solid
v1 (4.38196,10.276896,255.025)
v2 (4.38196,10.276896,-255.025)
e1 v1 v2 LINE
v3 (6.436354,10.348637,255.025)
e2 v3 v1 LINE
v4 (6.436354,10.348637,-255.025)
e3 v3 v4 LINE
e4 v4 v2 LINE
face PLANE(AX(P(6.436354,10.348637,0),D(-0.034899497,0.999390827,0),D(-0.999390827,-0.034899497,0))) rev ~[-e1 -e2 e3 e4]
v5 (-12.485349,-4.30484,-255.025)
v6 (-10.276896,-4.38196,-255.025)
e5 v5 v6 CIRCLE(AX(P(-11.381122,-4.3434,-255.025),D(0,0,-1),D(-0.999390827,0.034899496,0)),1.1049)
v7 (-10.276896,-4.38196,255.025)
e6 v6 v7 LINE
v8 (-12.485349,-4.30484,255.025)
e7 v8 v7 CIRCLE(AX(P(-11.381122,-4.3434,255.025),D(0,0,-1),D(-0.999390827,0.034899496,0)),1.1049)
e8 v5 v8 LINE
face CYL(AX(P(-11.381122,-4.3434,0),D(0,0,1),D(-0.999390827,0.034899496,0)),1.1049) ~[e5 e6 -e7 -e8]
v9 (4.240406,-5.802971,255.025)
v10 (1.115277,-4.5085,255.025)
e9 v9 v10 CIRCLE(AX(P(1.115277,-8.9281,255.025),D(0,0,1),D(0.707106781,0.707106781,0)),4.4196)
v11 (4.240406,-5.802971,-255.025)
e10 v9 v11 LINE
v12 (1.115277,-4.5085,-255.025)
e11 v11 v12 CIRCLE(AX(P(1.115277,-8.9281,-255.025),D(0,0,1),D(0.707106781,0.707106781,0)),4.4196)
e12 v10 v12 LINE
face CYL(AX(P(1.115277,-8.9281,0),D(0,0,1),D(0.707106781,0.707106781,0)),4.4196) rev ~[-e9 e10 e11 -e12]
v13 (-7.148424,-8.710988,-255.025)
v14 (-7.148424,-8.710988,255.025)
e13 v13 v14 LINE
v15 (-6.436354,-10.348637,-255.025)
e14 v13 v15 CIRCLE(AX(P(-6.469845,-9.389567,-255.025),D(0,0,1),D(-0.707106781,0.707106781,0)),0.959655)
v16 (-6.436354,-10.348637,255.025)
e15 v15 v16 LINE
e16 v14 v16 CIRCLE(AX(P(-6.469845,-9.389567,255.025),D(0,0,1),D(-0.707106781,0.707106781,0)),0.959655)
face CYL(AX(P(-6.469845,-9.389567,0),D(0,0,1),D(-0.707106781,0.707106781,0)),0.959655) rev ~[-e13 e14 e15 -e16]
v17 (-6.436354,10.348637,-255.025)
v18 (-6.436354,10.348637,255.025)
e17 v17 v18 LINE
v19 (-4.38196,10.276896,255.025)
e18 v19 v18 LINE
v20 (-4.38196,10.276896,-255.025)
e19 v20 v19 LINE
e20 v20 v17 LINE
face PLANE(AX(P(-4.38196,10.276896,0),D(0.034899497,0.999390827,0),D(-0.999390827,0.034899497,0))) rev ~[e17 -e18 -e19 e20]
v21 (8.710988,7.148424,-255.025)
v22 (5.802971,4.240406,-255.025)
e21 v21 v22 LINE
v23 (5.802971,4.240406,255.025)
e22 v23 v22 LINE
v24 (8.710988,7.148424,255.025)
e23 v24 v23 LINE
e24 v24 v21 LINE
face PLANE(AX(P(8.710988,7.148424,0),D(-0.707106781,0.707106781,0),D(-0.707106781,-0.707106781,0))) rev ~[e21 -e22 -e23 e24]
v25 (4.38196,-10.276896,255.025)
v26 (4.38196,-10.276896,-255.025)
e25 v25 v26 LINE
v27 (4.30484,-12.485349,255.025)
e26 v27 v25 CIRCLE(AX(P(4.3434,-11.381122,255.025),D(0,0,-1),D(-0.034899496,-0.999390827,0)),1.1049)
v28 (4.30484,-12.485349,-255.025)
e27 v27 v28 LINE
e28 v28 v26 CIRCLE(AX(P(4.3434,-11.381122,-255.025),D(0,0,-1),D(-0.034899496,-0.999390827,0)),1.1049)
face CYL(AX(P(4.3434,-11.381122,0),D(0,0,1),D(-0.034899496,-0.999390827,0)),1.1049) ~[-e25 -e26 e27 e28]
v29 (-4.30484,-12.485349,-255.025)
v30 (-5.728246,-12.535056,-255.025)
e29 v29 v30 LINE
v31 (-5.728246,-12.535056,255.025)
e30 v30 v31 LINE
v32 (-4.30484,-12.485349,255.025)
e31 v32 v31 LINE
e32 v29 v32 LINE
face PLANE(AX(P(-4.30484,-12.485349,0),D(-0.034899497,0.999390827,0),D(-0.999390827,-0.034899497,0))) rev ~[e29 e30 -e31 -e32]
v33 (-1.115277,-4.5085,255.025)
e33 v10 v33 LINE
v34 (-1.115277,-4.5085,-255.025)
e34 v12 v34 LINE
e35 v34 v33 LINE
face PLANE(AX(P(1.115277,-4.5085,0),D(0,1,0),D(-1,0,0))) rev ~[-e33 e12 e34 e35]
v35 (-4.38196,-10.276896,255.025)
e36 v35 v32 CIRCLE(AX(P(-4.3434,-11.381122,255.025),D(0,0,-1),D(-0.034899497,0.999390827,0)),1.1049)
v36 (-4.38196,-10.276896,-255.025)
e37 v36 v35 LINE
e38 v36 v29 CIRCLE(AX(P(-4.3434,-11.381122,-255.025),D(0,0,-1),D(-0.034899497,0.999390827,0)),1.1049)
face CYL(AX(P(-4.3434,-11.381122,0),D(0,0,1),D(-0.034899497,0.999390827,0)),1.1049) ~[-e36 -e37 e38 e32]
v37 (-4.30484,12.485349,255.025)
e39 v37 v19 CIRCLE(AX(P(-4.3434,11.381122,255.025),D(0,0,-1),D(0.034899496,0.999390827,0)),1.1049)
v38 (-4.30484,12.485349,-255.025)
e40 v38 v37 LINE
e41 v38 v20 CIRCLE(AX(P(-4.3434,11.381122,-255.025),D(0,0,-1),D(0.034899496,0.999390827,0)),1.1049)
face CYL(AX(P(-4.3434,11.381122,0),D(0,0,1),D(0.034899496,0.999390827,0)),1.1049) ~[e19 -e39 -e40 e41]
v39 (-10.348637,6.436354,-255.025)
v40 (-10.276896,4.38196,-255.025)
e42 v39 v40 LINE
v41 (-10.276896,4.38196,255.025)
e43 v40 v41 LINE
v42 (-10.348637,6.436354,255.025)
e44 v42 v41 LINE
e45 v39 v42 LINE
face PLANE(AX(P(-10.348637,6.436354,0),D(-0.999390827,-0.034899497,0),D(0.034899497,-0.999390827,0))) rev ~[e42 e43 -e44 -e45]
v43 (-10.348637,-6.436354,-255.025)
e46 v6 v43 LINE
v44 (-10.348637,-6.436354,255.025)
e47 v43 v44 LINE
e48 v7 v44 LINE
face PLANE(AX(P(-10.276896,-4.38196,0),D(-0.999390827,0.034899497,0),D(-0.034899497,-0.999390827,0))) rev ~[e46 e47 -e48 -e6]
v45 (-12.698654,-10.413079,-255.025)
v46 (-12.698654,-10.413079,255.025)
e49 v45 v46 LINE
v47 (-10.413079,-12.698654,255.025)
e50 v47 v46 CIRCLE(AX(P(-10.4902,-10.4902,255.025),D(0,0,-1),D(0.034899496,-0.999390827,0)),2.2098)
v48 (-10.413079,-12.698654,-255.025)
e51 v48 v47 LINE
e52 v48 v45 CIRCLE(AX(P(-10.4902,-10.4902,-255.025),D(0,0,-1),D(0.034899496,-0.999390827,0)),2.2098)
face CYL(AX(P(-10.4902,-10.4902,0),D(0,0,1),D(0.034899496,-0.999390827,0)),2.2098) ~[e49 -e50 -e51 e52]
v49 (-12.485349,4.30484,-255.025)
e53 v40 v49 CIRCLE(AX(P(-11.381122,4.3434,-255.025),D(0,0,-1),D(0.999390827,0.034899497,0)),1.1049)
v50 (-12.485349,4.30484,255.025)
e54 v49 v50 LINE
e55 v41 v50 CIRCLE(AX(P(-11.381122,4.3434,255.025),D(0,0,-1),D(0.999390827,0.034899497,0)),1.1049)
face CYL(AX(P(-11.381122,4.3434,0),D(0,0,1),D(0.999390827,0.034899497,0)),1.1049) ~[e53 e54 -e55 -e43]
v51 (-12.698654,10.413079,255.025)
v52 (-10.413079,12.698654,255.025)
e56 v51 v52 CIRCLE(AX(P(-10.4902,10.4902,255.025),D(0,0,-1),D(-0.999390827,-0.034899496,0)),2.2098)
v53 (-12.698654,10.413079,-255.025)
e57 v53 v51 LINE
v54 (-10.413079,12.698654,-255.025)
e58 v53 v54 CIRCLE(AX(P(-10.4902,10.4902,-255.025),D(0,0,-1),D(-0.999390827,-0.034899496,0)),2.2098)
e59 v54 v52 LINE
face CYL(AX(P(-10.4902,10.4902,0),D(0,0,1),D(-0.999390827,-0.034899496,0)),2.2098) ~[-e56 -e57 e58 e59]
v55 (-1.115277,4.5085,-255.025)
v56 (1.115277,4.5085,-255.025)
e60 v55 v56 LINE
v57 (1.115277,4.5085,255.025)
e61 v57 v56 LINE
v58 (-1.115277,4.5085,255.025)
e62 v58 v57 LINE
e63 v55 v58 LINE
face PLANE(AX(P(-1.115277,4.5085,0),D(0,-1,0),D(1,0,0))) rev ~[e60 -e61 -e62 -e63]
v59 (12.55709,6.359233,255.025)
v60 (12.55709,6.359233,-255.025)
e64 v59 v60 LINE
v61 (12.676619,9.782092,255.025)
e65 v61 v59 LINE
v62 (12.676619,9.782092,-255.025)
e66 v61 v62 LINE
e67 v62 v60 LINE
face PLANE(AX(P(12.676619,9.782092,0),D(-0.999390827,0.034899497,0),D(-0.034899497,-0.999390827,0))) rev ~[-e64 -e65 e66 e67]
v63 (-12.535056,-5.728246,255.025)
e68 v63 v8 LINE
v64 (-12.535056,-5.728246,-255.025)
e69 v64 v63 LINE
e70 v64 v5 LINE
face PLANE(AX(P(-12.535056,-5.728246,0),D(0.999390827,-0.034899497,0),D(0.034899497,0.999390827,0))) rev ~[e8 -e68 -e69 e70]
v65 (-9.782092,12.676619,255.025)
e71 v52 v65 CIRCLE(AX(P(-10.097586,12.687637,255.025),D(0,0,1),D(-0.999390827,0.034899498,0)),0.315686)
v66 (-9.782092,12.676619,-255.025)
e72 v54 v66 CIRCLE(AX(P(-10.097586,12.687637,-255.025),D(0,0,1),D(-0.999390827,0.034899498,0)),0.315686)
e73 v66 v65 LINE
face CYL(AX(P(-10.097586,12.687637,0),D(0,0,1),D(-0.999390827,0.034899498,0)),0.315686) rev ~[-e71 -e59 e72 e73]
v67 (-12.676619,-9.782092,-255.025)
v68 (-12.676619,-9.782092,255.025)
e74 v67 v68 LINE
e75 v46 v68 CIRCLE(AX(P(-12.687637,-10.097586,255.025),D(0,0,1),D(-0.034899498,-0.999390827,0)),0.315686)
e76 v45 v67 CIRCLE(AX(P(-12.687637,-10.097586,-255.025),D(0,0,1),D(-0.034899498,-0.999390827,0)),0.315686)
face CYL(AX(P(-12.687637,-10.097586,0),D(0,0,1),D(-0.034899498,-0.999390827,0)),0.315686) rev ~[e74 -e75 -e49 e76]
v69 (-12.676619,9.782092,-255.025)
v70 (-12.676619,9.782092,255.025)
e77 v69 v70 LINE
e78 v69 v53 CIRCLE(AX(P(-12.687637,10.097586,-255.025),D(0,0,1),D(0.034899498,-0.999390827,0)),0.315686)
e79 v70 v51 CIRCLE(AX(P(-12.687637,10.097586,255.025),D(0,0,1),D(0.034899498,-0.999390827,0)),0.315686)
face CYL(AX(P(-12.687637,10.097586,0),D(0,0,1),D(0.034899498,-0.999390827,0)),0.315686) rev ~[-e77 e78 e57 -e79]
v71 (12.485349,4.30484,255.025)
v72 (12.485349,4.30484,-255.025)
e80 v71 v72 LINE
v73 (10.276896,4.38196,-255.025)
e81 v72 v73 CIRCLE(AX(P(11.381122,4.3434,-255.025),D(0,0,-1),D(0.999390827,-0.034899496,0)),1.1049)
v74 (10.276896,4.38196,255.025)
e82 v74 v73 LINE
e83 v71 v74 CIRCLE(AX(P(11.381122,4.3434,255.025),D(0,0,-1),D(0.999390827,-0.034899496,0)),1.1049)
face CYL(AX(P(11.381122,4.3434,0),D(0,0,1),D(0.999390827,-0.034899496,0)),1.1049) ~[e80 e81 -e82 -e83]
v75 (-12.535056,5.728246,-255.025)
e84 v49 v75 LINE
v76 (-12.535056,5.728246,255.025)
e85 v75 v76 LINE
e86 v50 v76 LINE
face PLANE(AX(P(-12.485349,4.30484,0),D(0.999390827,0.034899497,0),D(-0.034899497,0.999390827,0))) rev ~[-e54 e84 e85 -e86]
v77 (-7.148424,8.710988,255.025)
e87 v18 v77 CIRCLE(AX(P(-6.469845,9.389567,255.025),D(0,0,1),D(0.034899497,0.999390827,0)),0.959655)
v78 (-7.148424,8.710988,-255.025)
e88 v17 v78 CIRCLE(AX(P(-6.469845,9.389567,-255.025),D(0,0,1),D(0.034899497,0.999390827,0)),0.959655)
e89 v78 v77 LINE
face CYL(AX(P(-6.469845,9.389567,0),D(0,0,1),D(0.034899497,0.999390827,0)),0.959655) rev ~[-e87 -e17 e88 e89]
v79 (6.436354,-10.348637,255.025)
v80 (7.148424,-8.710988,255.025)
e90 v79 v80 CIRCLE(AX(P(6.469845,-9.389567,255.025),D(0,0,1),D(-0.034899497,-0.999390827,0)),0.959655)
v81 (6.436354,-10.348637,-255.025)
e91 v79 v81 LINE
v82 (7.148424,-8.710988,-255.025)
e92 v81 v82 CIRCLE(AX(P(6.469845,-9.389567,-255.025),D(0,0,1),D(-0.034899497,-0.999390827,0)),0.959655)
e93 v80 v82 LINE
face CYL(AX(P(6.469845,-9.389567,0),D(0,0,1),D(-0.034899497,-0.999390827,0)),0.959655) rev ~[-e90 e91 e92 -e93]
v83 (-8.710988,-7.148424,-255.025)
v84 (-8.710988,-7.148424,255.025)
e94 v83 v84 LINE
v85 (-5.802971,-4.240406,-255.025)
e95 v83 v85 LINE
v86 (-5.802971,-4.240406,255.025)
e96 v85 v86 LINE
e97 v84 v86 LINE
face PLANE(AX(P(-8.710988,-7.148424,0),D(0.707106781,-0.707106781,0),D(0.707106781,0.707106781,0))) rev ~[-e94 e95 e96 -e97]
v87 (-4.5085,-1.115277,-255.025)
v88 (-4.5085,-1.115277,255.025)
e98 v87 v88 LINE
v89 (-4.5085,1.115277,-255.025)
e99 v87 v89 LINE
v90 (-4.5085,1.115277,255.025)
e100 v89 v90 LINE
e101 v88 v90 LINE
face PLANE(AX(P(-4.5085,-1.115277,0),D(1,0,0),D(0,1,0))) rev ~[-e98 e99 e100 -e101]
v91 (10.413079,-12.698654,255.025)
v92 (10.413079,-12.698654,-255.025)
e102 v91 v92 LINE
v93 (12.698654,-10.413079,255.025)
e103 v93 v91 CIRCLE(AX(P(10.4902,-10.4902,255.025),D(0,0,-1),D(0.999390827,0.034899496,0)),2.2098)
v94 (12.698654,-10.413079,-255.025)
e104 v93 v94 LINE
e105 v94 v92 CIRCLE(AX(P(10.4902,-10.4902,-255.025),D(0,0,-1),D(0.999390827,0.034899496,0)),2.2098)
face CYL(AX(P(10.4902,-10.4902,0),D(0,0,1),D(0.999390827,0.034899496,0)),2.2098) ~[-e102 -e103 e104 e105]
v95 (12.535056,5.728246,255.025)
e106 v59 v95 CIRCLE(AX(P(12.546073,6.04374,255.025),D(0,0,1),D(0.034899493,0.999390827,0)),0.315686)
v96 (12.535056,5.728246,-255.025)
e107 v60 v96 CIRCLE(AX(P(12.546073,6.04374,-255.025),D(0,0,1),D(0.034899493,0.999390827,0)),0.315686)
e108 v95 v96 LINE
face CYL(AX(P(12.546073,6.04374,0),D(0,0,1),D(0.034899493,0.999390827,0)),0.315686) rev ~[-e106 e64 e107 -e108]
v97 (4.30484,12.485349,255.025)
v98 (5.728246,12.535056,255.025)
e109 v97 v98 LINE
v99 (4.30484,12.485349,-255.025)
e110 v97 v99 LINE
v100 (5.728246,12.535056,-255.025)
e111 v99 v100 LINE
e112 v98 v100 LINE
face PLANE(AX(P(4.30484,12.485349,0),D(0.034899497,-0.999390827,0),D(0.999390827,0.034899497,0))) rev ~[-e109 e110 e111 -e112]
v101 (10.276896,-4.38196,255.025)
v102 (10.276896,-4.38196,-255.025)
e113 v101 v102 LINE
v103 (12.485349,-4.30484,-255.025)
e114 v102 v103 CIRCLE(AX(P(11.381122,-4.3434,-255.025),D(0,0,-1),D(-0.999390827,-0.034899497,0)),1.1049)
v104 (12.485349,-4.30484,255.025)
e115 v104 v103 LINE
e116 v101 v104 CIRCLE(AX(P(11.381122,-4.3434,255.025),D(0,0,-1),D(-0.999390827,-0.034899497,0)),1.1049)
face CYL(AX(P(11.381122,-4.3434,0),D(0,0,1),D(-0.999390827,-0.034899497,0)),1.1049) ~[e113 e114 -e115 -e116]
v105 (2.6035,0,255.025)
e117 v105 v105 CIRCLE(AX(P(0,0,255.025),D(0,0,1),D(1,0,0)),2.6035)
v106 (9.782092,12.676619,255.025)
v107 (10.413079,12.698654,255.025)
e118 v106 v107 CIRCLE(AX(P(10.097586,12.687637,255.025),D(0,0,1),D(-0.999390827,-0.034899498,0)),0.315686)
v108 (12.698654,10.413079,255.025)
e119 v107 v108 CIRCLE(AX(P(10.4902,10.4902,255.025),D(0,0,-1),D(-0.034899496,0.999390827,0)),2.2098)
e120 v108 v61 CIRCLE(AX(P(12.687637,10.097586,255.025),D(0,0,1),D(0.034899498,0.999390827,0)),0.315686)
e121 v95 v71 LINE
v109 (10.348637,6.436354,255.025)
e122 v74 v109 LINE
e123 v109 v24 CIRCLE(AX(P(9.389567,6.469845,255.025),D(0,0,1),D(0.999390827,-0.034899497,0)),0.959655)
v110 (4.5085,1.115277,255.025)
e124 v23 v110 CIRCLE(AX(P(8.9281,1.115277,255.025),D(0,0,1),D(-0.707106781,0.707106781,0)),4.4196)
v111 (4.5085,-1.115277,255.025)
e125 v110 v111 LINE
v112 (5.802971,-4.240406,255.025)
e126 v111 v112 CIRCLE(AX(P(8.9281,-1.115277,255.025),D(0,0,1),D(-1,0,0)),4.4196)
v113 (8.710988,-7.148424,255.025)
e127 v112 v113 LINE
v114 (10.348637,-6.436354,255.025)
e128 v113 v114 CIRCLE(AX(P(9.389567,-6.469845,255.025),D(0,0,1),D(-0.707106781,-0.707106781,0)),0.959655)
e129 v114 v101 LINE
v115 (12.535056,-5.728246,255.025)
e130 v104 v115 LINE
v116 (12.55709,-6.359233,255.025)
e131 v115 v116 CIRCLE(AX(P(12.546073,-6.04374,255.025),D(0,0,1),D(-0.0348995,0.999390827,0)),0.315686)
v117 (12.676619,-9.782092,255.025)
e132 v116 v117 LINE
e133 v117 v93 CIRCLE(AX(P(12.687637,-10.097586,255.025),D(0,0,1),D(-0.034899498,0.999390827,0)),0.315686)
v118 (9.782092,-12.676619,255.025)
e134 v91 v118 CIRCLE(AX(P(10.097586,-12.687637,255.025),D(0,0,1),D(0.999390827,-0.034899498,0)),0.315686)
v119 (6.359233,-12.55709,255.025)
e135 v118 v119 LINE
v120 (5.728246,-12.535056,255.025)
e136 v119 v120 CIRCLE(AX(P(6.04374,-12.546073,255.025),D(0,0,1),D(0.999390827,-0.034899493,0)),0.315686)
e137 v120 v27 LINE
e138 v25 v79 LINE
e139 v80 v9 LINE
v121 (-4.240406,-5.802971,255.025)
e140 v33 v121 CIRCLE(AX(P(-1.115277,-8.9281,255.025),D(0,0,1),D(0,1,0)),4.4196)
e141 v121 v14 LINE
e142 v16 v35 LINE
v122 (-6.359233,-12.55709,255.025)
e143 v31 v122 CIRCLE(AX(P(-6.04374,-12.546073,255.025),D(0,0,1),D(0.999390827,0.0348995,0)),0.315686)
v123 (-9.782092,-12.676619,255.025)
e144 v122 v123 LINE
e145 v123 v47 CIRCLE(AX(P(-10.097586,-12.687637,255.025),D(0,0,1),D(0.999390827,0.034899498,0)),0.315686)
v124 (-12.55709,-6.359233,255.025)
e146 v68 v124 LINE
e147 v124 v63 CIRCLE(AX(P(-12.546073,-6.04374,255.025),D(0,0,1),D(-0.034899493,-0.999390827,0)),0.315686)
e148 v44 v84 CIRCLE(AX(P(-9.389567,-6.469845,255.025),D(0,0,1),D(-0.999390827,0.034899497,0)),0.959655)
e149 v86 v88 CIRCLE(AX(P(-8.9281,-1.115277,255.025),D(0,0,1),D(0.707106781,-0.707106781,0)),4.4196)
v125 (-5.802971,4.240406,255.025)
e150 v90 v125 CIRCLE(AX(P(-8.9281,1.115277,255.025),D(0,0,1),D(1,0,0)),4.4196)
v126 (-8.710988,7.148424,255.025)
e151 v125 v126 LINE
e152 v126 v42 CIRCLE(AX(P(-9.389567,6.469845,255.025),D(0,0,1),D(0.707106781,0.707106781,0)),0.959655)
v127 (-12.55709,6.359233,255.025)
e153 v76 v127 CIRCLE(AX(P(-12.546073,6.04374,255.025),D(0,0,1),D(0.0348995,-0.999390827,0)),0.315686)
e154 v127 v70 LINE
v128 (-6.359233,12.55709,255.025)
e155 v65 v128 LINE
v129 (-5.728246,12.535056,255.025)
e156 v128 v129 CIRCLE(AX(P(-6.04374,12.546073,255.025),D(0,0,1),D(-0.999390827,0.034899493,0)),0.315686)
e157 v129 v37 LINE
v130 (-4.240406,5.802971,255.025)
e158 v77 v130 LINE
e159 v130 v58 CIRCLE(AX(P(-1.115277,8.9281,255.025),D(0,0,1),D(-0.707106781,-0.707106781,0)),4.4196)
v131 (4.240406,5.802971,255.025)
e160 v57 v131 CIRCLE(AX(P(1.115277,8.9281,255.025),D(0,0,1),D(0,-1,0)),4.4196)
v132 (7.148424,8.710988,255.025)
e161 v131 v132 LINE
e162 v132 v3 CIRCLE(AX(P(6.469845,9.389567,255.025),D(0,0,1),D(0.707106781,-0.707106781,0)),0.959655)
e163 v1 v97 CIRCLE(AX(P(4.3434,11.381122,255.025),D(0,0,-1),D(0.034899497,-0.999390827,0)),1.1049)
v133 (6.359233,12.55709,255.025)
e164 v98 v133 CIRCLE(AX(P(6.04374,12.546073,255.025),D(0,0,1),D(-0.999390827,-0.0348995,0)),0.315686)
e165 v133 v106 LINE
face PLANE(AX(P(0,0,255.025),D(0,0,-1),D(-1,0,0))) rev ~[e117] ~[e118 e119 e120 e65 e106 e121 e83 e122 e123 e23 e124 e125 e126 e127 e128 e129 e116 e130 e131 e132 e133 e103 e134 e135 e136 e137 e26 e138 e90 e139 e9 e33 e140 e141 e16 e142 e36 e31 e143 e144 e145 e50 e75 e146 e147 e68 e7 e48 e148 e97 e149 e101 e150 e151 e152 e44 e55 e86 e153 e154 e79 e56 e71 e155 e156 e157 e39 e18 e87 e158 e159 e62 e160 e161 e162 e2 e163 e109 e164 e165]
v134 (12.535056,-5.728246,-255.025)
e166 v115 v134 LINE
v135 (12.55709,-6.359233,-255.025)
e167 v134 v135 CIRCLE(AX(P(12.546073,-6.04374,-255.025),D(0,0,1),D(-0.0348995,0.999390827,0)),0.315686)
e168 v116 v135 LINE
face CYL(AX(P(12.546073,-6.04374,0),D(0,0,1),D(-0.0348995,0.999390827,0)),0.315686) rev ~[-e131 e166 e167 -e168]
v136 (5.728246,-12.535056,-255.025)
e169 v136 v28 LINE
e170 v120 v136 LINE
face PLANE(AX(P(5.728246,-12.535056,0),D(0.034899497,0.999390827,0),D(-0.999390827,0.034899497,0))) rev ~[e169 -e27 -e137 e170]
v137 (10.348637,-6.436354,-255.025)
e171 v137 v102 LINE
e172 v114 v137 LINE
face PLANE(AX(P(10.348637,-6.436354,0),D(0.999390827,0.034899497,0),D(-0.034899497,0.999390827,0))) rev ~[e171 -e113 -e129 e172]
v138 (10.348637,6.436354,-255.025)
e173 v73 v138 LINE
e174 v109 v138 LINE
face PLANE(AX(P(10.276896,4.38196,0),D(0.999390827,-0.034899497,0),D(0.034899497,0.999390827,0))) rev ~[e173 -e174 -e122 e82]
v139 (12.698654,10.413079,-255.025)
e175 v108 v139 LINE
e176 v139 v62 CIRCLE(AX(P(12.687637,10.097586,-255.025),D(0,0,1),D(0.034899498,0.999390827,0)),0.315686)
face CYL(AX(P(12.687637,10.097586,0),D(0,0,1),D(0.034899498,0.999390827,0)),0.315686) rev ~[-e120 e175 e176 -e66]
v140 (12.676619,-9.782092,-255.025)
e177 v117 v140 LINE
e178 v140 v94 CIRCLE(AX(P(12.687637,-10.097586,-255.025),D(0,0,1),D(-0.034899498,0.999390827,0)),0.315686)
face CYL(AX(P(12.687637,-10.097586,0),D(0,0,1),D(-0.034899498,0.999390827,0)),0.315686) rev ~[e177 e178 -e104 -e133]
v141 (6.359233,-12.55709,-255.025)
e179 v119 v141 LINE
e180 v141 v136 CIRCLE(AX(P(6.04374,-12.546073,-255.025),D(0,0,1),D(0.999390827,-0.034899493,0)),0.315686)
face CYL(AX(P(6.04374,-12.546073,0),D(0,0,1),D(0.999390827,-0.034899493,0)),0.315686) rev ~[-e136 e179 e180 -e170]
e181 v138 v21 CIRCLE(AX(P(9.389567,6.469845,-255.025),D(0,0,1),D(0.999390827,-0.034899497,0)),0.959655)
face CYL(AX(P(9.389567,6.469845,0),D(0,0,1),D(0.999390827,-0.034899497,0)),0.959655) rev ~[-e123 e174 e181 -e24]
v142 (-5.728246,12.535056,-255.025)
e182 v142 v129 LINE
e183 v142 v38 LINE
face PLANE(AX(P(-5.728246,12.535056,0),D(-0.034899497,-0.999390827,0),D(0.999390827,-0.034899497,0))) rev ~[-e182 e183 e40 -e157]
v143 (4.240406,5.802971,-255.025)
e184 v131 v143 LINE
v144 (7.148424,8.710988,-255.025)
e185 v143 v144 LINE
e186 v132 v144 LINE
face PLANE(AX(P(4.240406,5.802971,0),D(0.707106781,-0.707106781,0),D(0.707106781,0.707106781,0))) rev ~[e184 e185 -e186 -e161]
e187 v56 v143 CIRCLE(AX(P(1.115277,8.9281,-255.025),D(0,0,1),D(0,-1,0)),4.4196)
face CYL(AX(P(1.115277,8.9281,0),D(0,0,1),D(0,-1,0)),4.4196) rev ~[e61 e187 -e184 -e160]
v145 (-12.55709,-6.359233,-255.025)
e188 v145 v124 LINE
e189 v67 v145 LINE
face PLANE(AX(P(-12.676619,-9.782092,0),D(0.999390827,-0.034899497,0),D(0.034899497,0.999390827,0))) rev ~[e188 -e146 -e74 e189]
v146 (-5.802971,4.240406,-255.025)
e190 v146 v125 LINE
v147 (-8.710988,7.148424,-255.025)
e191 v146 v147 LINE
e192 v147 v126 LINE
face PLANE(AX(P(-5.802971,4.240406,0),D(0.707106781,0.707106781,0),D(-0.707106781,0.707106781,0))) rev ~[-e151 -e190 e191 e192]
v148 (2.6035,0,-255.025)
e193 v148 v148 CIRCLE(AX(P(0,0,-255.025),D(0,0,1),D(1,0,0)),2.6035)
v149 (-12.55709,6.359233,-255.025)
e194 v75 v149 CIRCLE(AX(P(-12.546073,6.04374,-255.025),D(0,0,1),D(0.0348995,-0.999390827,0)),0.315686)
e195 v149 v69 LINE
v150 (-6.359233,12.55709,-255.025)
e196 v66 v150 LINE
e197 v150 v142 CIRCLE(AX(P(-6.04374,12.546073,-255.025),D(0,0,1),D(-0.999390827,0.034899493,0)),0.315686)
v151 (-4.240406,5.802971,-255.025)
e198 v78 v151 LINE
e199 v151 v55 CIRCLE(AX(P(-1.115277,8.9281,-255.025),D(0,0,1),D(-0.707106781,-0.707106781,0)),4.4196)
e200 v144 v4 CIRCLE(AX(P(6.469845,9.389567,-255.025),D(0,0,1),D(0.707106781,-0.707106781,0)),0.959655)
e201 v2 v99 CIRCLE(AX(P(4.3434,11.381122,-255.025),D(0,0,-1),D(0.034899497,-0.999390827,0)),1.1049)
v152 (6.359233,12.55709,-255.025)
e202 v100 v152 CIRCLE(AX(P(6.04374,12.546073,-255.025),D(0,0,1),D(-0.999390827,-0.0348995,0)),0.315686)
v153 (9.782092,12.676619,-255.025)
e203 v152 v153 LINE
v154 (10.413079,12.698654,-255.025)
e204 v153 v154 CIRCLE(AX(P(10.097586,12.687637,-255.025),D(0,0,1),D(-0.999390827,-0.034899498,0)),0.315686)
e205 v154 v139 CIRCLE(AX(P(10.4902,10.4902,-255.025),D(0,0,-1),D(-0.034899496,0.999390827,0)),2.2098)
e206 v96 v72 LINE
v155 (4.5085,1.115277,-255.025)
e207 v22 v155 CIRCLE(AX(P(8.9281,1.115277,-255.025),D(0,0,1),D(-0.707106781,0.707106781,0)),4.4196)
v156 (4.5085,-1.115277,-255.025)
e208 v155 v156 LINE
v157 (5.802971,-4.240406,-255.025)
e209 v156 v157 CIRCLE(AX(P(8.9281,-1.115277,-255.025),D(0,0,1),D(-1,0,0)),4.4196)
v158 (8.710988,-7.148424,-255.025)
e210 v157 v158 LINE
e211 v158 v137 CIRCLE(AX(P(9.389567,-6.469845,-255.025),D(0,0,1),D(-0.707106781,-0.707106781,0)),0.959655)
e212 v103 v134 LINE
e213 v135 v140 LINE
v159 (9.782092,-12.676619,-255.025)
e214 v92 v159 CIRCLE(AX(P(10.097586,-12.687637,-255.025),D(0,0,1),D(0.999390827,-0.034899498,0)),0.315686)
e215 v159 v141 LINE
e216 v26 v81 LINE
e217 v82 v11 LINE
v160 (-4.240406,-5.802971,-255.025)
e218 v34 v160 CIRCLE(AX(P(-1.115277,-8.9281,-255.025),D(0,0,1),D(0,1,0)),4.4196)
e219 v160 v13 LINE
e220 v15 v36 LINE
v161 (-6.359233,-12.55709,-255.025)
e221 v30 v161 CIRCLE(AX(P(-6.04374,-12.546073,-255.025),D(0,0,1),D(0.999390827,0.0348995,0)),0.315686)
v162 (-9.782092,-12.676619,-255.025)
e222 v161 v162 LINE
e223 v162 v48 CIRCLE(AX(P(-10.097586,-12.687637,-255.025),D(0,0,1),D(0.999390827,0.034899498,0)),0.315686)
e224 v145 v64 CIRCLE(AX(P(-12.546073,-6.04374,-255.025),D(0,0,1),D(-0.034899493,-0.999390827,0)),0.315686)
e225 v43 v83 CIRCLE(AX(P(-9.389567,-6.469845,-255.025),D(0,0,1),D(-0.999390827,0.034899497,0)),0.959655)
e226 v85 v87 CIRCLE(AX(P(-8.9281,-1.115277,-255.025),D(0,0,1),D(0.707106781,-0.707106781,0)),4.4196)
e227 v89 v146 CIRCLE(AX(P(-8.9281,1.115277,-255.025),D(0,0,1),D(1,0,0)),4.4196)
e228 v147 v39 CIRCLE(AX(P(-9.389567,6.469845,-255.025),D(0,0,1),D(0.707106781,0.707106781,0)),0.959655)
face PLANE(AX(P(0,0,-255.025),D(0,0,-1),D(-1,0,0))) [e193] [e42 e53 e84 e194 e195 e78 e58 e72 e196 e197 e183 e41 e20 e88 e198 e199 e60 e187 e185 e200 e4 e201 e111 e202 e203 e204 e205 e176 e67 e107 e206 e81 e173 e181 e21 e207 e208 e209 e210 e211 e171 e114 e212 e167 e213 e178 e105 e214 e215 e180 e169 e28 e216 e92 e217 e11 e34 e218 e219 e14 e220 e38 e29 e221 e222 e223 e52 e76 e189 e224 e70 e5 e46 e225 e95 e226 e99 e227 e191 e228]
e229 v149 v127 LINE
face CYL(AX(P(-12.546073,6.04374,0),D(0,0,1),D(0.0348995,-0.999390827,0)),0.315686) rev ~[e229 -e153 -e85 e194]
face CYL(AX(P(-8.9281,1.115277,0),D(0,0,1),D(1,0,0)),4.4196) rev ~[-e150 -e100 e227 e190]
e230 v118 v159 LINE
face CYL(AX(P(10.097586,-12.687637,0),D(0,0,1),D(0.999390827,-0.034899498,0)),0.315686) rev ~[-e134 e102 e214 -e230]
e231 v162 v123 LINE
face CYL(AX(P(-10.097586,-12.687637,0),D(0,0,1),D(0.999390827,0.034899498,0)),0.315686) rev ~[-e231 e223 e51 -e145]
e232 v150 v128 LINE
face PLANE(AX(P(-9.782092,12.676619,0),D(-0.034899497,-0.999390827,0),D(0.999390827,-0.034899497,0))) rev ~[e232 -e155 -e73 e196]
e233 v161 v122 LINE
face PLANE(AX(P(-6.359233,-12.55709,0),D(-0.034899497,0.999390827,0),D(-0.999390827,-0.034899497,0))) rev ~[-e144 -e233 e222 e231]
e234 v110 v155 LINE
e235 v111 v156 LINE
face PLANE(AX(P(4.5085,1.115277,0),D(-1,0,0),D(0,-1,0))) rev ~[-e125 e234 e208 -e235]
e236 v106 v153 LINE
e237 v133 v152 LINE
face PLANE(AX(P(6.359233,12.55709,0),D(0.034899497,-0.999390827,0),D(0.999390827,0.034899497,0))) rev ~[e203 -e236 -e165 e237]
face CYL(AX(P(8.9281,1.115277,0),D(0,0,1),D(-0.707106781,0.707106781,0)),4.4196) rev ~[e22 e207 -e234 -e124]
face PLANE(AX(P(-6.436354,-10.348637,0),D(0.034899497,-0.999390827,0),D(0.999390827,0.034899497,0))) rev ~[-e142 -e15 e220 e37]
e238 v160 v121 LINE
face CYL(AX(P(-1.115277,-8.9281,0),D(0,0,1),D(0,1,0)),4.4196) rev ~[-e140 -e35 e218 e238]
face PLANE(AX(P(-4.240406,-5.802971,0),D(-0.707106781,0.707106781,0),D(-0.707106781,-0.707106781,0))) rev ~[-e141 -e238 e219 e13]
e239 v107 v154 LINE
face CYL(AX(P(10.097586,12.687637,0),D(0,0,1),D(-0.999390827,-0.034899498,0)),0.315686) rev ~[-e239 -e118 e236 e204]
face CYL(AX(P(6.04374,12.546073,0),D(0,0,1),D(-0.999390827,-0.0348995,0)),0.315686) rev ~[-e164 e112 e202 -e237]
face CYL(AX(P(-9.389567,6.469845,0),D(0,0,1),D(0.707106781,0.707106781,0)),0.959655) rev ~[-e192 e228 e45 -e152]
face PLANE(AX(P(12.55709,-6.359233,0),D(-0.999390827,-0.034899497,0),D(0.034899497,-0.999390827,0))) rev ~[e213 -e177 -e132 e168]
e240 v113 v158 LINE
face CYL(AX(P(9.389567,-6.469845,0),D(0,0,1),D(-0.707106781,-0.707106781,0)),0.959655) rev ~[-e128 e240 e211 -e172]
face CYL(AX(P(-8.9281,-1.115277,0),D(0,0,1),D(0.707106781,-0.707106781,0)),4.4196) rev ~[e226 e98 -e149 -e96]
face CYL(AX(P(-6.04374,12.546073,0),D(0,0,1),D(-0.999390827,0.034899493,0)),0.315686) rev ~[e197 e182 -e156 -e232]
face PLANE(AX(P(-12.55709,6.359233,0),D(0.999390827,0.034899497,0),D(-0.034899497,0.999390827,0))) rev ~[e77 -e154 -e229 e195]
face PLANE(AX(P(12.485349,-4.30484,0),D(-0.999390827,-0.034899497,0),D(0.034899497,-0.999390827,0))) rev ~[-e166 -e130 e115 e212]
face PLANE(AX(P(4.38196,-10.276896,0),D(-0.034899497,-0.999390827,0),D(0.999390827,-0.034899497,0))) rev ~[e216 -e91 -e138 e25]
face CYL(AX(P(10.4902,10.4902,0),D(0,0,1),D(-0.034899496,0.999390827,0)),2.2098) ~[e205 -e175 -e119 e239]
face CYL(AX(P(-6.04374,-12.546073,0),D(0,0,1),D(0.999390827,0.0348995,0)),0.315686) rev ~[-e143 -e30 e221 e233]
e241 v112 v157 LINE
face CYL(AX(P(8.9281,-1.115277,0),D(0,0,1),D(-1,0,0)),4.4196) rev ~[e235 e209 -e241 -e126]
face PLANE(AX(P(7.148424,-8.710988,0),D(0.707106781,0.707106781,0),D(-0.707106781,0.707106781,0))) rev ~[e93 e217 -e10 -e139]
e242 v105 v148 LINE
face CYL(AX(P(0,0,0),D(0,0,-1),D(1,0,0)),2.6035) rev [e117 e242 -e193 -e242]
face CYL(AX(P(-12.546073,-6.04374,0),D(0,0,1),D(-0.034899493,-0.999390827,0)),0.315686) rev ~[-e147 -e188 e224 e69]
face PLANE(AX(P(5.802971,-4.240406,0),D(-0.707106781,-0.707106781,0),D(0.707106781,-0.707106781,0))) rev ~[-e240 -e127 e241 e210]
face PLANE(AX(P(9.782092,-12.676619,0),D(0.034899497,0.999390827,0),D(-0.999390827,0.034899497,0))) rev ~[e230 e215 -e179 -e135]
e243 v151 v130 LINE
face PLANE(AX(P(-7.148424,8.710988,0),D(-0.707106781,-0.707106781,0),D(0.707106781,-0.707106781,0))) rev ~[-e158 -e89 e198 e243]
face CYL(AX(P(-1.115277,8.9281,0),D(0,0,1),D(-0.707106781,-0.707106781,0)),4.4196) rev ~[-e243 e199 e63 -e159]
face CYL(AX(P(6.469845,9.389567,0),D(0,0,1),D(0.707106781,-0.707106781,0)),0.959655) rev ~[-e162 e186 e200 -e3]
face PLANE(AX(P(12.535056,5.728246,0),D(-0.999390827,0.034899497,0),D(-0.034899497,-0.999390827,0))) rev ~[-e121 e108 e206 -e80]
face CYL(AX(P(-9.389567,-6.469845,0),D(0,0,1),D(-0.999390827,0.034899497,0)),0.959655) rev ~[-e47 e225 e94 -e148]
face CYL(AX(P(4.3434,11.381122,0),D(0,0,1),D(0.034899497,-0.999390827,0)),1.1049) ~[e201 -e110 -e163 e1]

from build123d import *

# Parameters (mm, degrees)
SKETCH3_R      = 2.6035
EXTRUDE1_DEPTH = 255.025


with BuildPart() as part:
    # Sketch3 → Extrude1 (new, symmetric)
    with BuildSketch(Plane.XY):
        with BuildLine():
            Line((-1.115277175, 4.5085), (1.115277175, 4.5085))
            ThreePointArc((1.115277175, 4.5085), (2.806584872, 4.844922018), (4.240406305, 5.80297087))
            Line((4.240406305, 5.80297087), (7.148423664, 8.710988229))
            ThreePointArc((7.148423664, 8.710988229), (7.349906316, 9.772227925), (6.436353897, 10.348636575))
            Line((6.436353897, 10.348636575), (4.381960454, 10.276895575))
            ThreePointArc((4.381960454, 10.276895575), (3.239173075, 11.342562046), (4.304839546, 12.485349424))
            Line((4.304839546, 12.485349424), (5.728246175, 12.535055879))
            ThreePointArc((5.728246175, 12.535055879), (6.054756855, 12.230579745), (6.35923299, 12.557090424))
            Line((6.35923299, 12.557090424), (9.782092278, 12.676619304))
            ThreePointArc((9.782092278, 12.676619304), (10.108602958, 12.37214317), (10.413079092, 12.69865385))
            ThreePointArc((10.413079092, 12.69865385), (12.052764565, 12.052764565), (12.69865385, 10.413079092))
            ThreePointArc((12.69865385, 10.413079092), (12.37214317, 10.108602958), (12.676619304, 9.782092278))
            Line((12.676619304, 9.782092278), (12.557090424, 6.35923299))
            ThreePointArc((12.557090424, 6.35923299), (12.230579745, 6.054756855), (12.535055879, 5.728246175))
            Line((12.535055879, 5.728246175), (12.485349424, 4.304839546))
            ThreePointArc((12.485349424, 4.304839546), (11.342562046, 3.239173075), (10.276895575, 4.381960454))
            Line((10.276895575, 4.381960454), (10.348636575, 6.436353897))
            ThreePointArc((10.348636575, 6.436353897), (9.772227925, 7.349906316), (8.710988229, 7.148423664))
            Line((8.710988229, 7.148423664), (5.80297087, 4.240406305))
            ThreePointArc((5.80297087, 4.240406305), (4.844922018, 2.806584872), (4.5085, 1.115277175))
            Line((4.5085, 1.115277175), (4.5085, -1.115277175))
            ThreePointArc((4.5085, -1.115277175), (4.844922018, -2.806584872), (5.80297087, -4.240406305))
            Line((5.80297087, -4.240406305), (8.710988229, -7.148423664))
            ThreePointArc((8.710988229, -7.148423664), (9.772227925, -7.349906316), (10.348636575, -6.436353897))
            Line((10.348636575, -6.436353897), (10.276895575, -4.381960454))
            ThreePointArc((10.276895575, -4.381960454), (11.342562046, -3.239173075), (12.485349424, -4.304839546))
            Line((12.485349424, -4.304839546), (12.535055879, -5.728246175))
            ThreePointArc((12.535055879, -5.728246175), (12.230579745, -6.054756855), (12.557090424, -6.35923299))
            Line((12.557090424, -6.35923299), (12.676619304, -9.782092278))
            ThreePointArc((12.676619304, -9.782092278), (12.37214317, -10.108602958), (12.69865385, -10.413079092))
            ThreePointArc((12.69865385, -10.413079092), (12.052764565, -12.052764565), (10.413079092, -12.69865385))
            ThreePointArc((10.413079092, -12.69865385), (10.108602958, -12.37214317), (9.782092278, -12.676619304))
            Line((9.782092278, -12.676619304), (6.35923299, -12.557090424))
            ThreePointArc((6.35923299, -12.557090424), (6.054756855, -12.230579745), (5.728246175, -12.535055879))
            Line((5.728246175, -12.535055879), (4.304839546, -12.485349424))
            ThreePointArc((4.304839546, -12.485349424), (3.239173075, -11.342562046), (4.381960454, -10.276895575))
            Line((4.381960454, -10.276895575), (6.436353897, -10.348636575))
            ThreePointArc((6.436353897, -10.348636575), (7.349906316, -9.772227925), (7.148423664, -8.710988229))
            Line((7.148423664, -8.710988229), (4.240406305, -5.80297087))
            ThreePointArc((4.240406305, -5.80297087), (2.806584872, -4.844922018), (1.115277175, -4.5085))
            Line((1.115277175, -4.5085), (-1.115277175, -4.5085))
            ThreePointArc((-1.115277175, -4.5085), (-2.806584872, -4.844922018), (-4.240406305, -5.80297087))
            Line((-4.240406305, -5.80297087), (-7.148423664, -8.710988229))
            ThreePointArc((-7.148423664, -8.710988229), (-7.349906316, -9.772227925), (-6.436353897, -10.348636575))
            Line((-6.436353897, -10.348636575), (-4.381960454, -10.276895575))
            ThreePointArc((-4.381960454, -10.276895575), (-3.239173075, -11.342562046), (-4.304839546, -12.485349424))
            Line((-4.304839546, -12.485349424), (-5.728246175, -12.535055879))
            ThreePointArc((-5.728246175, -12.535055879), (-6.054756855, -12.230579745), (-6.35923299, -12.557090424))
            Line((-6.35923299, -12.557090424), (-9.782092278, -12.676619304))
            ThreePointArc((-9.782092278, -12.676619304), (-10.108602958, -12.37214317), (-10.413079092, -12.69865385))
            ThreePointArc((-10.413079092, -12.69865385), (-12.052764565, -12.052764565), (-12.69865385, -10.413079092))
            ThreePointArc((-12.69865385, -10.413079092), (-12.37214317, -10.108602958), (-12.676619304, -9.782092278))
            Line((-12.676619304, -9.782092278), (-12.557090424, -6.35923299))
            ThreePointArc((-12.557090424, -6.35923299), (-12.230579745, -6.054756855), (-12.535055879, -5.728246175))
            Line((-12.535055879, -5.728246175), (-12.485349424, -4.304839546))
            ThreePointArc((-12.485349424, -4.304839546), (-11.342562046, -3.239173075), (-10.276895575, -4.381960454))
            Line((-10.276895575, -4.381960454), (-10.348636575, -6.436353897))
            ThreePointArc((-10.348636575, -6.436353897), (-9.772227925, -7.349906316), (-8.710988229, -7.148423664))
            Line((-8.710988229, -7.148423664), (-5.80297087, -4.240406305))
            ThreePointArc((-5.80297087, -4.240406305), (-4.844922018, -2.806584872), (-4.5085, -1.115277175))
            Line((-4.5085, -1.115277175), (-4.5085, 1.115277175))
            ThreePointArc((-4.5085, 1.115277175), (-4.844922018, 2.806584872), (-5.80297087, 4.240406305))
            Line((-5.80297087, 4.240406305), (-8.710988229, 7.148423664))
            ThreePointArc((-8.710988229, 7.148423664), (-9.772227925, 7.349906316), (-10.348636575, 6.436353897))
            Line((-10.348636575, 6.436353897), (-10.276895575, 4.381960454))
            ThreePointArc((-10.276895575, 4.381960454), (-11.342562046, 3.239173075), (-12.485349424, 4.304839546))
            Line((-12.485349424, 4.304839546), (-12.535055879, 5.728246175))
            ThreePointArc((-12.535055879, 5.728246175), (-12.230579745, 6.054756855), (-12.557090424, 6.35923299))
            Line((-12.557090424, 6.35923299), (-12.676619304, 9.782092278))
            ThreePointArc((-12.676619304, 9.782092278), (-12.37214317, 10.108602958), (-12.69865385, 10.413079092))
            ThreePointArc((-12.69865385, 10.413079092), (-12.052764565, 12.052764565), (-10.413079092, 12.69865385))
            ThreePointArc((-10.413079092, 12.69865385), (-10.108602958, 12.37214317), (-9.782092278, 12.676619304))
            Line((-9.782092278, 12.676619304), (-6.35923299, 12.557090424))
            ThreePointArc((-6.35923299, 12.557090424), (-6.054756855, 12.230579745), (-5.728246175, 12.535055879))
            Line((-5.728246175, 12.535055879), (-4.304839546, 12.485349424))
            ThreePointArc((-4.304839546, 12.485349424), (-3.239173075, 11.342562046), (-4.381960454, 10.276895575))
            Line((-4.381960454, 10.276895575), (-6.436353897, 10.348636575))
            ThreePointArc((-6.436353897, 10.348636575), (-7.349906316, 9.772227925), (-7.148423664, 8.710988229))
            Line((-7.148423664, 8.710988229), (-4.240406305, 5.80297087))
            ThreePointArc((-4.240406305, 5.80297087), (-2.806584872, 4.844922018), (-1.115277175, 4.5085))
        make_face()
        Circle(SKETCH3_R, mode=Mode.SUBTRACT)
    extrude(amount=EXTRUDE1_DEPTH, both=True)


solid = part.part
